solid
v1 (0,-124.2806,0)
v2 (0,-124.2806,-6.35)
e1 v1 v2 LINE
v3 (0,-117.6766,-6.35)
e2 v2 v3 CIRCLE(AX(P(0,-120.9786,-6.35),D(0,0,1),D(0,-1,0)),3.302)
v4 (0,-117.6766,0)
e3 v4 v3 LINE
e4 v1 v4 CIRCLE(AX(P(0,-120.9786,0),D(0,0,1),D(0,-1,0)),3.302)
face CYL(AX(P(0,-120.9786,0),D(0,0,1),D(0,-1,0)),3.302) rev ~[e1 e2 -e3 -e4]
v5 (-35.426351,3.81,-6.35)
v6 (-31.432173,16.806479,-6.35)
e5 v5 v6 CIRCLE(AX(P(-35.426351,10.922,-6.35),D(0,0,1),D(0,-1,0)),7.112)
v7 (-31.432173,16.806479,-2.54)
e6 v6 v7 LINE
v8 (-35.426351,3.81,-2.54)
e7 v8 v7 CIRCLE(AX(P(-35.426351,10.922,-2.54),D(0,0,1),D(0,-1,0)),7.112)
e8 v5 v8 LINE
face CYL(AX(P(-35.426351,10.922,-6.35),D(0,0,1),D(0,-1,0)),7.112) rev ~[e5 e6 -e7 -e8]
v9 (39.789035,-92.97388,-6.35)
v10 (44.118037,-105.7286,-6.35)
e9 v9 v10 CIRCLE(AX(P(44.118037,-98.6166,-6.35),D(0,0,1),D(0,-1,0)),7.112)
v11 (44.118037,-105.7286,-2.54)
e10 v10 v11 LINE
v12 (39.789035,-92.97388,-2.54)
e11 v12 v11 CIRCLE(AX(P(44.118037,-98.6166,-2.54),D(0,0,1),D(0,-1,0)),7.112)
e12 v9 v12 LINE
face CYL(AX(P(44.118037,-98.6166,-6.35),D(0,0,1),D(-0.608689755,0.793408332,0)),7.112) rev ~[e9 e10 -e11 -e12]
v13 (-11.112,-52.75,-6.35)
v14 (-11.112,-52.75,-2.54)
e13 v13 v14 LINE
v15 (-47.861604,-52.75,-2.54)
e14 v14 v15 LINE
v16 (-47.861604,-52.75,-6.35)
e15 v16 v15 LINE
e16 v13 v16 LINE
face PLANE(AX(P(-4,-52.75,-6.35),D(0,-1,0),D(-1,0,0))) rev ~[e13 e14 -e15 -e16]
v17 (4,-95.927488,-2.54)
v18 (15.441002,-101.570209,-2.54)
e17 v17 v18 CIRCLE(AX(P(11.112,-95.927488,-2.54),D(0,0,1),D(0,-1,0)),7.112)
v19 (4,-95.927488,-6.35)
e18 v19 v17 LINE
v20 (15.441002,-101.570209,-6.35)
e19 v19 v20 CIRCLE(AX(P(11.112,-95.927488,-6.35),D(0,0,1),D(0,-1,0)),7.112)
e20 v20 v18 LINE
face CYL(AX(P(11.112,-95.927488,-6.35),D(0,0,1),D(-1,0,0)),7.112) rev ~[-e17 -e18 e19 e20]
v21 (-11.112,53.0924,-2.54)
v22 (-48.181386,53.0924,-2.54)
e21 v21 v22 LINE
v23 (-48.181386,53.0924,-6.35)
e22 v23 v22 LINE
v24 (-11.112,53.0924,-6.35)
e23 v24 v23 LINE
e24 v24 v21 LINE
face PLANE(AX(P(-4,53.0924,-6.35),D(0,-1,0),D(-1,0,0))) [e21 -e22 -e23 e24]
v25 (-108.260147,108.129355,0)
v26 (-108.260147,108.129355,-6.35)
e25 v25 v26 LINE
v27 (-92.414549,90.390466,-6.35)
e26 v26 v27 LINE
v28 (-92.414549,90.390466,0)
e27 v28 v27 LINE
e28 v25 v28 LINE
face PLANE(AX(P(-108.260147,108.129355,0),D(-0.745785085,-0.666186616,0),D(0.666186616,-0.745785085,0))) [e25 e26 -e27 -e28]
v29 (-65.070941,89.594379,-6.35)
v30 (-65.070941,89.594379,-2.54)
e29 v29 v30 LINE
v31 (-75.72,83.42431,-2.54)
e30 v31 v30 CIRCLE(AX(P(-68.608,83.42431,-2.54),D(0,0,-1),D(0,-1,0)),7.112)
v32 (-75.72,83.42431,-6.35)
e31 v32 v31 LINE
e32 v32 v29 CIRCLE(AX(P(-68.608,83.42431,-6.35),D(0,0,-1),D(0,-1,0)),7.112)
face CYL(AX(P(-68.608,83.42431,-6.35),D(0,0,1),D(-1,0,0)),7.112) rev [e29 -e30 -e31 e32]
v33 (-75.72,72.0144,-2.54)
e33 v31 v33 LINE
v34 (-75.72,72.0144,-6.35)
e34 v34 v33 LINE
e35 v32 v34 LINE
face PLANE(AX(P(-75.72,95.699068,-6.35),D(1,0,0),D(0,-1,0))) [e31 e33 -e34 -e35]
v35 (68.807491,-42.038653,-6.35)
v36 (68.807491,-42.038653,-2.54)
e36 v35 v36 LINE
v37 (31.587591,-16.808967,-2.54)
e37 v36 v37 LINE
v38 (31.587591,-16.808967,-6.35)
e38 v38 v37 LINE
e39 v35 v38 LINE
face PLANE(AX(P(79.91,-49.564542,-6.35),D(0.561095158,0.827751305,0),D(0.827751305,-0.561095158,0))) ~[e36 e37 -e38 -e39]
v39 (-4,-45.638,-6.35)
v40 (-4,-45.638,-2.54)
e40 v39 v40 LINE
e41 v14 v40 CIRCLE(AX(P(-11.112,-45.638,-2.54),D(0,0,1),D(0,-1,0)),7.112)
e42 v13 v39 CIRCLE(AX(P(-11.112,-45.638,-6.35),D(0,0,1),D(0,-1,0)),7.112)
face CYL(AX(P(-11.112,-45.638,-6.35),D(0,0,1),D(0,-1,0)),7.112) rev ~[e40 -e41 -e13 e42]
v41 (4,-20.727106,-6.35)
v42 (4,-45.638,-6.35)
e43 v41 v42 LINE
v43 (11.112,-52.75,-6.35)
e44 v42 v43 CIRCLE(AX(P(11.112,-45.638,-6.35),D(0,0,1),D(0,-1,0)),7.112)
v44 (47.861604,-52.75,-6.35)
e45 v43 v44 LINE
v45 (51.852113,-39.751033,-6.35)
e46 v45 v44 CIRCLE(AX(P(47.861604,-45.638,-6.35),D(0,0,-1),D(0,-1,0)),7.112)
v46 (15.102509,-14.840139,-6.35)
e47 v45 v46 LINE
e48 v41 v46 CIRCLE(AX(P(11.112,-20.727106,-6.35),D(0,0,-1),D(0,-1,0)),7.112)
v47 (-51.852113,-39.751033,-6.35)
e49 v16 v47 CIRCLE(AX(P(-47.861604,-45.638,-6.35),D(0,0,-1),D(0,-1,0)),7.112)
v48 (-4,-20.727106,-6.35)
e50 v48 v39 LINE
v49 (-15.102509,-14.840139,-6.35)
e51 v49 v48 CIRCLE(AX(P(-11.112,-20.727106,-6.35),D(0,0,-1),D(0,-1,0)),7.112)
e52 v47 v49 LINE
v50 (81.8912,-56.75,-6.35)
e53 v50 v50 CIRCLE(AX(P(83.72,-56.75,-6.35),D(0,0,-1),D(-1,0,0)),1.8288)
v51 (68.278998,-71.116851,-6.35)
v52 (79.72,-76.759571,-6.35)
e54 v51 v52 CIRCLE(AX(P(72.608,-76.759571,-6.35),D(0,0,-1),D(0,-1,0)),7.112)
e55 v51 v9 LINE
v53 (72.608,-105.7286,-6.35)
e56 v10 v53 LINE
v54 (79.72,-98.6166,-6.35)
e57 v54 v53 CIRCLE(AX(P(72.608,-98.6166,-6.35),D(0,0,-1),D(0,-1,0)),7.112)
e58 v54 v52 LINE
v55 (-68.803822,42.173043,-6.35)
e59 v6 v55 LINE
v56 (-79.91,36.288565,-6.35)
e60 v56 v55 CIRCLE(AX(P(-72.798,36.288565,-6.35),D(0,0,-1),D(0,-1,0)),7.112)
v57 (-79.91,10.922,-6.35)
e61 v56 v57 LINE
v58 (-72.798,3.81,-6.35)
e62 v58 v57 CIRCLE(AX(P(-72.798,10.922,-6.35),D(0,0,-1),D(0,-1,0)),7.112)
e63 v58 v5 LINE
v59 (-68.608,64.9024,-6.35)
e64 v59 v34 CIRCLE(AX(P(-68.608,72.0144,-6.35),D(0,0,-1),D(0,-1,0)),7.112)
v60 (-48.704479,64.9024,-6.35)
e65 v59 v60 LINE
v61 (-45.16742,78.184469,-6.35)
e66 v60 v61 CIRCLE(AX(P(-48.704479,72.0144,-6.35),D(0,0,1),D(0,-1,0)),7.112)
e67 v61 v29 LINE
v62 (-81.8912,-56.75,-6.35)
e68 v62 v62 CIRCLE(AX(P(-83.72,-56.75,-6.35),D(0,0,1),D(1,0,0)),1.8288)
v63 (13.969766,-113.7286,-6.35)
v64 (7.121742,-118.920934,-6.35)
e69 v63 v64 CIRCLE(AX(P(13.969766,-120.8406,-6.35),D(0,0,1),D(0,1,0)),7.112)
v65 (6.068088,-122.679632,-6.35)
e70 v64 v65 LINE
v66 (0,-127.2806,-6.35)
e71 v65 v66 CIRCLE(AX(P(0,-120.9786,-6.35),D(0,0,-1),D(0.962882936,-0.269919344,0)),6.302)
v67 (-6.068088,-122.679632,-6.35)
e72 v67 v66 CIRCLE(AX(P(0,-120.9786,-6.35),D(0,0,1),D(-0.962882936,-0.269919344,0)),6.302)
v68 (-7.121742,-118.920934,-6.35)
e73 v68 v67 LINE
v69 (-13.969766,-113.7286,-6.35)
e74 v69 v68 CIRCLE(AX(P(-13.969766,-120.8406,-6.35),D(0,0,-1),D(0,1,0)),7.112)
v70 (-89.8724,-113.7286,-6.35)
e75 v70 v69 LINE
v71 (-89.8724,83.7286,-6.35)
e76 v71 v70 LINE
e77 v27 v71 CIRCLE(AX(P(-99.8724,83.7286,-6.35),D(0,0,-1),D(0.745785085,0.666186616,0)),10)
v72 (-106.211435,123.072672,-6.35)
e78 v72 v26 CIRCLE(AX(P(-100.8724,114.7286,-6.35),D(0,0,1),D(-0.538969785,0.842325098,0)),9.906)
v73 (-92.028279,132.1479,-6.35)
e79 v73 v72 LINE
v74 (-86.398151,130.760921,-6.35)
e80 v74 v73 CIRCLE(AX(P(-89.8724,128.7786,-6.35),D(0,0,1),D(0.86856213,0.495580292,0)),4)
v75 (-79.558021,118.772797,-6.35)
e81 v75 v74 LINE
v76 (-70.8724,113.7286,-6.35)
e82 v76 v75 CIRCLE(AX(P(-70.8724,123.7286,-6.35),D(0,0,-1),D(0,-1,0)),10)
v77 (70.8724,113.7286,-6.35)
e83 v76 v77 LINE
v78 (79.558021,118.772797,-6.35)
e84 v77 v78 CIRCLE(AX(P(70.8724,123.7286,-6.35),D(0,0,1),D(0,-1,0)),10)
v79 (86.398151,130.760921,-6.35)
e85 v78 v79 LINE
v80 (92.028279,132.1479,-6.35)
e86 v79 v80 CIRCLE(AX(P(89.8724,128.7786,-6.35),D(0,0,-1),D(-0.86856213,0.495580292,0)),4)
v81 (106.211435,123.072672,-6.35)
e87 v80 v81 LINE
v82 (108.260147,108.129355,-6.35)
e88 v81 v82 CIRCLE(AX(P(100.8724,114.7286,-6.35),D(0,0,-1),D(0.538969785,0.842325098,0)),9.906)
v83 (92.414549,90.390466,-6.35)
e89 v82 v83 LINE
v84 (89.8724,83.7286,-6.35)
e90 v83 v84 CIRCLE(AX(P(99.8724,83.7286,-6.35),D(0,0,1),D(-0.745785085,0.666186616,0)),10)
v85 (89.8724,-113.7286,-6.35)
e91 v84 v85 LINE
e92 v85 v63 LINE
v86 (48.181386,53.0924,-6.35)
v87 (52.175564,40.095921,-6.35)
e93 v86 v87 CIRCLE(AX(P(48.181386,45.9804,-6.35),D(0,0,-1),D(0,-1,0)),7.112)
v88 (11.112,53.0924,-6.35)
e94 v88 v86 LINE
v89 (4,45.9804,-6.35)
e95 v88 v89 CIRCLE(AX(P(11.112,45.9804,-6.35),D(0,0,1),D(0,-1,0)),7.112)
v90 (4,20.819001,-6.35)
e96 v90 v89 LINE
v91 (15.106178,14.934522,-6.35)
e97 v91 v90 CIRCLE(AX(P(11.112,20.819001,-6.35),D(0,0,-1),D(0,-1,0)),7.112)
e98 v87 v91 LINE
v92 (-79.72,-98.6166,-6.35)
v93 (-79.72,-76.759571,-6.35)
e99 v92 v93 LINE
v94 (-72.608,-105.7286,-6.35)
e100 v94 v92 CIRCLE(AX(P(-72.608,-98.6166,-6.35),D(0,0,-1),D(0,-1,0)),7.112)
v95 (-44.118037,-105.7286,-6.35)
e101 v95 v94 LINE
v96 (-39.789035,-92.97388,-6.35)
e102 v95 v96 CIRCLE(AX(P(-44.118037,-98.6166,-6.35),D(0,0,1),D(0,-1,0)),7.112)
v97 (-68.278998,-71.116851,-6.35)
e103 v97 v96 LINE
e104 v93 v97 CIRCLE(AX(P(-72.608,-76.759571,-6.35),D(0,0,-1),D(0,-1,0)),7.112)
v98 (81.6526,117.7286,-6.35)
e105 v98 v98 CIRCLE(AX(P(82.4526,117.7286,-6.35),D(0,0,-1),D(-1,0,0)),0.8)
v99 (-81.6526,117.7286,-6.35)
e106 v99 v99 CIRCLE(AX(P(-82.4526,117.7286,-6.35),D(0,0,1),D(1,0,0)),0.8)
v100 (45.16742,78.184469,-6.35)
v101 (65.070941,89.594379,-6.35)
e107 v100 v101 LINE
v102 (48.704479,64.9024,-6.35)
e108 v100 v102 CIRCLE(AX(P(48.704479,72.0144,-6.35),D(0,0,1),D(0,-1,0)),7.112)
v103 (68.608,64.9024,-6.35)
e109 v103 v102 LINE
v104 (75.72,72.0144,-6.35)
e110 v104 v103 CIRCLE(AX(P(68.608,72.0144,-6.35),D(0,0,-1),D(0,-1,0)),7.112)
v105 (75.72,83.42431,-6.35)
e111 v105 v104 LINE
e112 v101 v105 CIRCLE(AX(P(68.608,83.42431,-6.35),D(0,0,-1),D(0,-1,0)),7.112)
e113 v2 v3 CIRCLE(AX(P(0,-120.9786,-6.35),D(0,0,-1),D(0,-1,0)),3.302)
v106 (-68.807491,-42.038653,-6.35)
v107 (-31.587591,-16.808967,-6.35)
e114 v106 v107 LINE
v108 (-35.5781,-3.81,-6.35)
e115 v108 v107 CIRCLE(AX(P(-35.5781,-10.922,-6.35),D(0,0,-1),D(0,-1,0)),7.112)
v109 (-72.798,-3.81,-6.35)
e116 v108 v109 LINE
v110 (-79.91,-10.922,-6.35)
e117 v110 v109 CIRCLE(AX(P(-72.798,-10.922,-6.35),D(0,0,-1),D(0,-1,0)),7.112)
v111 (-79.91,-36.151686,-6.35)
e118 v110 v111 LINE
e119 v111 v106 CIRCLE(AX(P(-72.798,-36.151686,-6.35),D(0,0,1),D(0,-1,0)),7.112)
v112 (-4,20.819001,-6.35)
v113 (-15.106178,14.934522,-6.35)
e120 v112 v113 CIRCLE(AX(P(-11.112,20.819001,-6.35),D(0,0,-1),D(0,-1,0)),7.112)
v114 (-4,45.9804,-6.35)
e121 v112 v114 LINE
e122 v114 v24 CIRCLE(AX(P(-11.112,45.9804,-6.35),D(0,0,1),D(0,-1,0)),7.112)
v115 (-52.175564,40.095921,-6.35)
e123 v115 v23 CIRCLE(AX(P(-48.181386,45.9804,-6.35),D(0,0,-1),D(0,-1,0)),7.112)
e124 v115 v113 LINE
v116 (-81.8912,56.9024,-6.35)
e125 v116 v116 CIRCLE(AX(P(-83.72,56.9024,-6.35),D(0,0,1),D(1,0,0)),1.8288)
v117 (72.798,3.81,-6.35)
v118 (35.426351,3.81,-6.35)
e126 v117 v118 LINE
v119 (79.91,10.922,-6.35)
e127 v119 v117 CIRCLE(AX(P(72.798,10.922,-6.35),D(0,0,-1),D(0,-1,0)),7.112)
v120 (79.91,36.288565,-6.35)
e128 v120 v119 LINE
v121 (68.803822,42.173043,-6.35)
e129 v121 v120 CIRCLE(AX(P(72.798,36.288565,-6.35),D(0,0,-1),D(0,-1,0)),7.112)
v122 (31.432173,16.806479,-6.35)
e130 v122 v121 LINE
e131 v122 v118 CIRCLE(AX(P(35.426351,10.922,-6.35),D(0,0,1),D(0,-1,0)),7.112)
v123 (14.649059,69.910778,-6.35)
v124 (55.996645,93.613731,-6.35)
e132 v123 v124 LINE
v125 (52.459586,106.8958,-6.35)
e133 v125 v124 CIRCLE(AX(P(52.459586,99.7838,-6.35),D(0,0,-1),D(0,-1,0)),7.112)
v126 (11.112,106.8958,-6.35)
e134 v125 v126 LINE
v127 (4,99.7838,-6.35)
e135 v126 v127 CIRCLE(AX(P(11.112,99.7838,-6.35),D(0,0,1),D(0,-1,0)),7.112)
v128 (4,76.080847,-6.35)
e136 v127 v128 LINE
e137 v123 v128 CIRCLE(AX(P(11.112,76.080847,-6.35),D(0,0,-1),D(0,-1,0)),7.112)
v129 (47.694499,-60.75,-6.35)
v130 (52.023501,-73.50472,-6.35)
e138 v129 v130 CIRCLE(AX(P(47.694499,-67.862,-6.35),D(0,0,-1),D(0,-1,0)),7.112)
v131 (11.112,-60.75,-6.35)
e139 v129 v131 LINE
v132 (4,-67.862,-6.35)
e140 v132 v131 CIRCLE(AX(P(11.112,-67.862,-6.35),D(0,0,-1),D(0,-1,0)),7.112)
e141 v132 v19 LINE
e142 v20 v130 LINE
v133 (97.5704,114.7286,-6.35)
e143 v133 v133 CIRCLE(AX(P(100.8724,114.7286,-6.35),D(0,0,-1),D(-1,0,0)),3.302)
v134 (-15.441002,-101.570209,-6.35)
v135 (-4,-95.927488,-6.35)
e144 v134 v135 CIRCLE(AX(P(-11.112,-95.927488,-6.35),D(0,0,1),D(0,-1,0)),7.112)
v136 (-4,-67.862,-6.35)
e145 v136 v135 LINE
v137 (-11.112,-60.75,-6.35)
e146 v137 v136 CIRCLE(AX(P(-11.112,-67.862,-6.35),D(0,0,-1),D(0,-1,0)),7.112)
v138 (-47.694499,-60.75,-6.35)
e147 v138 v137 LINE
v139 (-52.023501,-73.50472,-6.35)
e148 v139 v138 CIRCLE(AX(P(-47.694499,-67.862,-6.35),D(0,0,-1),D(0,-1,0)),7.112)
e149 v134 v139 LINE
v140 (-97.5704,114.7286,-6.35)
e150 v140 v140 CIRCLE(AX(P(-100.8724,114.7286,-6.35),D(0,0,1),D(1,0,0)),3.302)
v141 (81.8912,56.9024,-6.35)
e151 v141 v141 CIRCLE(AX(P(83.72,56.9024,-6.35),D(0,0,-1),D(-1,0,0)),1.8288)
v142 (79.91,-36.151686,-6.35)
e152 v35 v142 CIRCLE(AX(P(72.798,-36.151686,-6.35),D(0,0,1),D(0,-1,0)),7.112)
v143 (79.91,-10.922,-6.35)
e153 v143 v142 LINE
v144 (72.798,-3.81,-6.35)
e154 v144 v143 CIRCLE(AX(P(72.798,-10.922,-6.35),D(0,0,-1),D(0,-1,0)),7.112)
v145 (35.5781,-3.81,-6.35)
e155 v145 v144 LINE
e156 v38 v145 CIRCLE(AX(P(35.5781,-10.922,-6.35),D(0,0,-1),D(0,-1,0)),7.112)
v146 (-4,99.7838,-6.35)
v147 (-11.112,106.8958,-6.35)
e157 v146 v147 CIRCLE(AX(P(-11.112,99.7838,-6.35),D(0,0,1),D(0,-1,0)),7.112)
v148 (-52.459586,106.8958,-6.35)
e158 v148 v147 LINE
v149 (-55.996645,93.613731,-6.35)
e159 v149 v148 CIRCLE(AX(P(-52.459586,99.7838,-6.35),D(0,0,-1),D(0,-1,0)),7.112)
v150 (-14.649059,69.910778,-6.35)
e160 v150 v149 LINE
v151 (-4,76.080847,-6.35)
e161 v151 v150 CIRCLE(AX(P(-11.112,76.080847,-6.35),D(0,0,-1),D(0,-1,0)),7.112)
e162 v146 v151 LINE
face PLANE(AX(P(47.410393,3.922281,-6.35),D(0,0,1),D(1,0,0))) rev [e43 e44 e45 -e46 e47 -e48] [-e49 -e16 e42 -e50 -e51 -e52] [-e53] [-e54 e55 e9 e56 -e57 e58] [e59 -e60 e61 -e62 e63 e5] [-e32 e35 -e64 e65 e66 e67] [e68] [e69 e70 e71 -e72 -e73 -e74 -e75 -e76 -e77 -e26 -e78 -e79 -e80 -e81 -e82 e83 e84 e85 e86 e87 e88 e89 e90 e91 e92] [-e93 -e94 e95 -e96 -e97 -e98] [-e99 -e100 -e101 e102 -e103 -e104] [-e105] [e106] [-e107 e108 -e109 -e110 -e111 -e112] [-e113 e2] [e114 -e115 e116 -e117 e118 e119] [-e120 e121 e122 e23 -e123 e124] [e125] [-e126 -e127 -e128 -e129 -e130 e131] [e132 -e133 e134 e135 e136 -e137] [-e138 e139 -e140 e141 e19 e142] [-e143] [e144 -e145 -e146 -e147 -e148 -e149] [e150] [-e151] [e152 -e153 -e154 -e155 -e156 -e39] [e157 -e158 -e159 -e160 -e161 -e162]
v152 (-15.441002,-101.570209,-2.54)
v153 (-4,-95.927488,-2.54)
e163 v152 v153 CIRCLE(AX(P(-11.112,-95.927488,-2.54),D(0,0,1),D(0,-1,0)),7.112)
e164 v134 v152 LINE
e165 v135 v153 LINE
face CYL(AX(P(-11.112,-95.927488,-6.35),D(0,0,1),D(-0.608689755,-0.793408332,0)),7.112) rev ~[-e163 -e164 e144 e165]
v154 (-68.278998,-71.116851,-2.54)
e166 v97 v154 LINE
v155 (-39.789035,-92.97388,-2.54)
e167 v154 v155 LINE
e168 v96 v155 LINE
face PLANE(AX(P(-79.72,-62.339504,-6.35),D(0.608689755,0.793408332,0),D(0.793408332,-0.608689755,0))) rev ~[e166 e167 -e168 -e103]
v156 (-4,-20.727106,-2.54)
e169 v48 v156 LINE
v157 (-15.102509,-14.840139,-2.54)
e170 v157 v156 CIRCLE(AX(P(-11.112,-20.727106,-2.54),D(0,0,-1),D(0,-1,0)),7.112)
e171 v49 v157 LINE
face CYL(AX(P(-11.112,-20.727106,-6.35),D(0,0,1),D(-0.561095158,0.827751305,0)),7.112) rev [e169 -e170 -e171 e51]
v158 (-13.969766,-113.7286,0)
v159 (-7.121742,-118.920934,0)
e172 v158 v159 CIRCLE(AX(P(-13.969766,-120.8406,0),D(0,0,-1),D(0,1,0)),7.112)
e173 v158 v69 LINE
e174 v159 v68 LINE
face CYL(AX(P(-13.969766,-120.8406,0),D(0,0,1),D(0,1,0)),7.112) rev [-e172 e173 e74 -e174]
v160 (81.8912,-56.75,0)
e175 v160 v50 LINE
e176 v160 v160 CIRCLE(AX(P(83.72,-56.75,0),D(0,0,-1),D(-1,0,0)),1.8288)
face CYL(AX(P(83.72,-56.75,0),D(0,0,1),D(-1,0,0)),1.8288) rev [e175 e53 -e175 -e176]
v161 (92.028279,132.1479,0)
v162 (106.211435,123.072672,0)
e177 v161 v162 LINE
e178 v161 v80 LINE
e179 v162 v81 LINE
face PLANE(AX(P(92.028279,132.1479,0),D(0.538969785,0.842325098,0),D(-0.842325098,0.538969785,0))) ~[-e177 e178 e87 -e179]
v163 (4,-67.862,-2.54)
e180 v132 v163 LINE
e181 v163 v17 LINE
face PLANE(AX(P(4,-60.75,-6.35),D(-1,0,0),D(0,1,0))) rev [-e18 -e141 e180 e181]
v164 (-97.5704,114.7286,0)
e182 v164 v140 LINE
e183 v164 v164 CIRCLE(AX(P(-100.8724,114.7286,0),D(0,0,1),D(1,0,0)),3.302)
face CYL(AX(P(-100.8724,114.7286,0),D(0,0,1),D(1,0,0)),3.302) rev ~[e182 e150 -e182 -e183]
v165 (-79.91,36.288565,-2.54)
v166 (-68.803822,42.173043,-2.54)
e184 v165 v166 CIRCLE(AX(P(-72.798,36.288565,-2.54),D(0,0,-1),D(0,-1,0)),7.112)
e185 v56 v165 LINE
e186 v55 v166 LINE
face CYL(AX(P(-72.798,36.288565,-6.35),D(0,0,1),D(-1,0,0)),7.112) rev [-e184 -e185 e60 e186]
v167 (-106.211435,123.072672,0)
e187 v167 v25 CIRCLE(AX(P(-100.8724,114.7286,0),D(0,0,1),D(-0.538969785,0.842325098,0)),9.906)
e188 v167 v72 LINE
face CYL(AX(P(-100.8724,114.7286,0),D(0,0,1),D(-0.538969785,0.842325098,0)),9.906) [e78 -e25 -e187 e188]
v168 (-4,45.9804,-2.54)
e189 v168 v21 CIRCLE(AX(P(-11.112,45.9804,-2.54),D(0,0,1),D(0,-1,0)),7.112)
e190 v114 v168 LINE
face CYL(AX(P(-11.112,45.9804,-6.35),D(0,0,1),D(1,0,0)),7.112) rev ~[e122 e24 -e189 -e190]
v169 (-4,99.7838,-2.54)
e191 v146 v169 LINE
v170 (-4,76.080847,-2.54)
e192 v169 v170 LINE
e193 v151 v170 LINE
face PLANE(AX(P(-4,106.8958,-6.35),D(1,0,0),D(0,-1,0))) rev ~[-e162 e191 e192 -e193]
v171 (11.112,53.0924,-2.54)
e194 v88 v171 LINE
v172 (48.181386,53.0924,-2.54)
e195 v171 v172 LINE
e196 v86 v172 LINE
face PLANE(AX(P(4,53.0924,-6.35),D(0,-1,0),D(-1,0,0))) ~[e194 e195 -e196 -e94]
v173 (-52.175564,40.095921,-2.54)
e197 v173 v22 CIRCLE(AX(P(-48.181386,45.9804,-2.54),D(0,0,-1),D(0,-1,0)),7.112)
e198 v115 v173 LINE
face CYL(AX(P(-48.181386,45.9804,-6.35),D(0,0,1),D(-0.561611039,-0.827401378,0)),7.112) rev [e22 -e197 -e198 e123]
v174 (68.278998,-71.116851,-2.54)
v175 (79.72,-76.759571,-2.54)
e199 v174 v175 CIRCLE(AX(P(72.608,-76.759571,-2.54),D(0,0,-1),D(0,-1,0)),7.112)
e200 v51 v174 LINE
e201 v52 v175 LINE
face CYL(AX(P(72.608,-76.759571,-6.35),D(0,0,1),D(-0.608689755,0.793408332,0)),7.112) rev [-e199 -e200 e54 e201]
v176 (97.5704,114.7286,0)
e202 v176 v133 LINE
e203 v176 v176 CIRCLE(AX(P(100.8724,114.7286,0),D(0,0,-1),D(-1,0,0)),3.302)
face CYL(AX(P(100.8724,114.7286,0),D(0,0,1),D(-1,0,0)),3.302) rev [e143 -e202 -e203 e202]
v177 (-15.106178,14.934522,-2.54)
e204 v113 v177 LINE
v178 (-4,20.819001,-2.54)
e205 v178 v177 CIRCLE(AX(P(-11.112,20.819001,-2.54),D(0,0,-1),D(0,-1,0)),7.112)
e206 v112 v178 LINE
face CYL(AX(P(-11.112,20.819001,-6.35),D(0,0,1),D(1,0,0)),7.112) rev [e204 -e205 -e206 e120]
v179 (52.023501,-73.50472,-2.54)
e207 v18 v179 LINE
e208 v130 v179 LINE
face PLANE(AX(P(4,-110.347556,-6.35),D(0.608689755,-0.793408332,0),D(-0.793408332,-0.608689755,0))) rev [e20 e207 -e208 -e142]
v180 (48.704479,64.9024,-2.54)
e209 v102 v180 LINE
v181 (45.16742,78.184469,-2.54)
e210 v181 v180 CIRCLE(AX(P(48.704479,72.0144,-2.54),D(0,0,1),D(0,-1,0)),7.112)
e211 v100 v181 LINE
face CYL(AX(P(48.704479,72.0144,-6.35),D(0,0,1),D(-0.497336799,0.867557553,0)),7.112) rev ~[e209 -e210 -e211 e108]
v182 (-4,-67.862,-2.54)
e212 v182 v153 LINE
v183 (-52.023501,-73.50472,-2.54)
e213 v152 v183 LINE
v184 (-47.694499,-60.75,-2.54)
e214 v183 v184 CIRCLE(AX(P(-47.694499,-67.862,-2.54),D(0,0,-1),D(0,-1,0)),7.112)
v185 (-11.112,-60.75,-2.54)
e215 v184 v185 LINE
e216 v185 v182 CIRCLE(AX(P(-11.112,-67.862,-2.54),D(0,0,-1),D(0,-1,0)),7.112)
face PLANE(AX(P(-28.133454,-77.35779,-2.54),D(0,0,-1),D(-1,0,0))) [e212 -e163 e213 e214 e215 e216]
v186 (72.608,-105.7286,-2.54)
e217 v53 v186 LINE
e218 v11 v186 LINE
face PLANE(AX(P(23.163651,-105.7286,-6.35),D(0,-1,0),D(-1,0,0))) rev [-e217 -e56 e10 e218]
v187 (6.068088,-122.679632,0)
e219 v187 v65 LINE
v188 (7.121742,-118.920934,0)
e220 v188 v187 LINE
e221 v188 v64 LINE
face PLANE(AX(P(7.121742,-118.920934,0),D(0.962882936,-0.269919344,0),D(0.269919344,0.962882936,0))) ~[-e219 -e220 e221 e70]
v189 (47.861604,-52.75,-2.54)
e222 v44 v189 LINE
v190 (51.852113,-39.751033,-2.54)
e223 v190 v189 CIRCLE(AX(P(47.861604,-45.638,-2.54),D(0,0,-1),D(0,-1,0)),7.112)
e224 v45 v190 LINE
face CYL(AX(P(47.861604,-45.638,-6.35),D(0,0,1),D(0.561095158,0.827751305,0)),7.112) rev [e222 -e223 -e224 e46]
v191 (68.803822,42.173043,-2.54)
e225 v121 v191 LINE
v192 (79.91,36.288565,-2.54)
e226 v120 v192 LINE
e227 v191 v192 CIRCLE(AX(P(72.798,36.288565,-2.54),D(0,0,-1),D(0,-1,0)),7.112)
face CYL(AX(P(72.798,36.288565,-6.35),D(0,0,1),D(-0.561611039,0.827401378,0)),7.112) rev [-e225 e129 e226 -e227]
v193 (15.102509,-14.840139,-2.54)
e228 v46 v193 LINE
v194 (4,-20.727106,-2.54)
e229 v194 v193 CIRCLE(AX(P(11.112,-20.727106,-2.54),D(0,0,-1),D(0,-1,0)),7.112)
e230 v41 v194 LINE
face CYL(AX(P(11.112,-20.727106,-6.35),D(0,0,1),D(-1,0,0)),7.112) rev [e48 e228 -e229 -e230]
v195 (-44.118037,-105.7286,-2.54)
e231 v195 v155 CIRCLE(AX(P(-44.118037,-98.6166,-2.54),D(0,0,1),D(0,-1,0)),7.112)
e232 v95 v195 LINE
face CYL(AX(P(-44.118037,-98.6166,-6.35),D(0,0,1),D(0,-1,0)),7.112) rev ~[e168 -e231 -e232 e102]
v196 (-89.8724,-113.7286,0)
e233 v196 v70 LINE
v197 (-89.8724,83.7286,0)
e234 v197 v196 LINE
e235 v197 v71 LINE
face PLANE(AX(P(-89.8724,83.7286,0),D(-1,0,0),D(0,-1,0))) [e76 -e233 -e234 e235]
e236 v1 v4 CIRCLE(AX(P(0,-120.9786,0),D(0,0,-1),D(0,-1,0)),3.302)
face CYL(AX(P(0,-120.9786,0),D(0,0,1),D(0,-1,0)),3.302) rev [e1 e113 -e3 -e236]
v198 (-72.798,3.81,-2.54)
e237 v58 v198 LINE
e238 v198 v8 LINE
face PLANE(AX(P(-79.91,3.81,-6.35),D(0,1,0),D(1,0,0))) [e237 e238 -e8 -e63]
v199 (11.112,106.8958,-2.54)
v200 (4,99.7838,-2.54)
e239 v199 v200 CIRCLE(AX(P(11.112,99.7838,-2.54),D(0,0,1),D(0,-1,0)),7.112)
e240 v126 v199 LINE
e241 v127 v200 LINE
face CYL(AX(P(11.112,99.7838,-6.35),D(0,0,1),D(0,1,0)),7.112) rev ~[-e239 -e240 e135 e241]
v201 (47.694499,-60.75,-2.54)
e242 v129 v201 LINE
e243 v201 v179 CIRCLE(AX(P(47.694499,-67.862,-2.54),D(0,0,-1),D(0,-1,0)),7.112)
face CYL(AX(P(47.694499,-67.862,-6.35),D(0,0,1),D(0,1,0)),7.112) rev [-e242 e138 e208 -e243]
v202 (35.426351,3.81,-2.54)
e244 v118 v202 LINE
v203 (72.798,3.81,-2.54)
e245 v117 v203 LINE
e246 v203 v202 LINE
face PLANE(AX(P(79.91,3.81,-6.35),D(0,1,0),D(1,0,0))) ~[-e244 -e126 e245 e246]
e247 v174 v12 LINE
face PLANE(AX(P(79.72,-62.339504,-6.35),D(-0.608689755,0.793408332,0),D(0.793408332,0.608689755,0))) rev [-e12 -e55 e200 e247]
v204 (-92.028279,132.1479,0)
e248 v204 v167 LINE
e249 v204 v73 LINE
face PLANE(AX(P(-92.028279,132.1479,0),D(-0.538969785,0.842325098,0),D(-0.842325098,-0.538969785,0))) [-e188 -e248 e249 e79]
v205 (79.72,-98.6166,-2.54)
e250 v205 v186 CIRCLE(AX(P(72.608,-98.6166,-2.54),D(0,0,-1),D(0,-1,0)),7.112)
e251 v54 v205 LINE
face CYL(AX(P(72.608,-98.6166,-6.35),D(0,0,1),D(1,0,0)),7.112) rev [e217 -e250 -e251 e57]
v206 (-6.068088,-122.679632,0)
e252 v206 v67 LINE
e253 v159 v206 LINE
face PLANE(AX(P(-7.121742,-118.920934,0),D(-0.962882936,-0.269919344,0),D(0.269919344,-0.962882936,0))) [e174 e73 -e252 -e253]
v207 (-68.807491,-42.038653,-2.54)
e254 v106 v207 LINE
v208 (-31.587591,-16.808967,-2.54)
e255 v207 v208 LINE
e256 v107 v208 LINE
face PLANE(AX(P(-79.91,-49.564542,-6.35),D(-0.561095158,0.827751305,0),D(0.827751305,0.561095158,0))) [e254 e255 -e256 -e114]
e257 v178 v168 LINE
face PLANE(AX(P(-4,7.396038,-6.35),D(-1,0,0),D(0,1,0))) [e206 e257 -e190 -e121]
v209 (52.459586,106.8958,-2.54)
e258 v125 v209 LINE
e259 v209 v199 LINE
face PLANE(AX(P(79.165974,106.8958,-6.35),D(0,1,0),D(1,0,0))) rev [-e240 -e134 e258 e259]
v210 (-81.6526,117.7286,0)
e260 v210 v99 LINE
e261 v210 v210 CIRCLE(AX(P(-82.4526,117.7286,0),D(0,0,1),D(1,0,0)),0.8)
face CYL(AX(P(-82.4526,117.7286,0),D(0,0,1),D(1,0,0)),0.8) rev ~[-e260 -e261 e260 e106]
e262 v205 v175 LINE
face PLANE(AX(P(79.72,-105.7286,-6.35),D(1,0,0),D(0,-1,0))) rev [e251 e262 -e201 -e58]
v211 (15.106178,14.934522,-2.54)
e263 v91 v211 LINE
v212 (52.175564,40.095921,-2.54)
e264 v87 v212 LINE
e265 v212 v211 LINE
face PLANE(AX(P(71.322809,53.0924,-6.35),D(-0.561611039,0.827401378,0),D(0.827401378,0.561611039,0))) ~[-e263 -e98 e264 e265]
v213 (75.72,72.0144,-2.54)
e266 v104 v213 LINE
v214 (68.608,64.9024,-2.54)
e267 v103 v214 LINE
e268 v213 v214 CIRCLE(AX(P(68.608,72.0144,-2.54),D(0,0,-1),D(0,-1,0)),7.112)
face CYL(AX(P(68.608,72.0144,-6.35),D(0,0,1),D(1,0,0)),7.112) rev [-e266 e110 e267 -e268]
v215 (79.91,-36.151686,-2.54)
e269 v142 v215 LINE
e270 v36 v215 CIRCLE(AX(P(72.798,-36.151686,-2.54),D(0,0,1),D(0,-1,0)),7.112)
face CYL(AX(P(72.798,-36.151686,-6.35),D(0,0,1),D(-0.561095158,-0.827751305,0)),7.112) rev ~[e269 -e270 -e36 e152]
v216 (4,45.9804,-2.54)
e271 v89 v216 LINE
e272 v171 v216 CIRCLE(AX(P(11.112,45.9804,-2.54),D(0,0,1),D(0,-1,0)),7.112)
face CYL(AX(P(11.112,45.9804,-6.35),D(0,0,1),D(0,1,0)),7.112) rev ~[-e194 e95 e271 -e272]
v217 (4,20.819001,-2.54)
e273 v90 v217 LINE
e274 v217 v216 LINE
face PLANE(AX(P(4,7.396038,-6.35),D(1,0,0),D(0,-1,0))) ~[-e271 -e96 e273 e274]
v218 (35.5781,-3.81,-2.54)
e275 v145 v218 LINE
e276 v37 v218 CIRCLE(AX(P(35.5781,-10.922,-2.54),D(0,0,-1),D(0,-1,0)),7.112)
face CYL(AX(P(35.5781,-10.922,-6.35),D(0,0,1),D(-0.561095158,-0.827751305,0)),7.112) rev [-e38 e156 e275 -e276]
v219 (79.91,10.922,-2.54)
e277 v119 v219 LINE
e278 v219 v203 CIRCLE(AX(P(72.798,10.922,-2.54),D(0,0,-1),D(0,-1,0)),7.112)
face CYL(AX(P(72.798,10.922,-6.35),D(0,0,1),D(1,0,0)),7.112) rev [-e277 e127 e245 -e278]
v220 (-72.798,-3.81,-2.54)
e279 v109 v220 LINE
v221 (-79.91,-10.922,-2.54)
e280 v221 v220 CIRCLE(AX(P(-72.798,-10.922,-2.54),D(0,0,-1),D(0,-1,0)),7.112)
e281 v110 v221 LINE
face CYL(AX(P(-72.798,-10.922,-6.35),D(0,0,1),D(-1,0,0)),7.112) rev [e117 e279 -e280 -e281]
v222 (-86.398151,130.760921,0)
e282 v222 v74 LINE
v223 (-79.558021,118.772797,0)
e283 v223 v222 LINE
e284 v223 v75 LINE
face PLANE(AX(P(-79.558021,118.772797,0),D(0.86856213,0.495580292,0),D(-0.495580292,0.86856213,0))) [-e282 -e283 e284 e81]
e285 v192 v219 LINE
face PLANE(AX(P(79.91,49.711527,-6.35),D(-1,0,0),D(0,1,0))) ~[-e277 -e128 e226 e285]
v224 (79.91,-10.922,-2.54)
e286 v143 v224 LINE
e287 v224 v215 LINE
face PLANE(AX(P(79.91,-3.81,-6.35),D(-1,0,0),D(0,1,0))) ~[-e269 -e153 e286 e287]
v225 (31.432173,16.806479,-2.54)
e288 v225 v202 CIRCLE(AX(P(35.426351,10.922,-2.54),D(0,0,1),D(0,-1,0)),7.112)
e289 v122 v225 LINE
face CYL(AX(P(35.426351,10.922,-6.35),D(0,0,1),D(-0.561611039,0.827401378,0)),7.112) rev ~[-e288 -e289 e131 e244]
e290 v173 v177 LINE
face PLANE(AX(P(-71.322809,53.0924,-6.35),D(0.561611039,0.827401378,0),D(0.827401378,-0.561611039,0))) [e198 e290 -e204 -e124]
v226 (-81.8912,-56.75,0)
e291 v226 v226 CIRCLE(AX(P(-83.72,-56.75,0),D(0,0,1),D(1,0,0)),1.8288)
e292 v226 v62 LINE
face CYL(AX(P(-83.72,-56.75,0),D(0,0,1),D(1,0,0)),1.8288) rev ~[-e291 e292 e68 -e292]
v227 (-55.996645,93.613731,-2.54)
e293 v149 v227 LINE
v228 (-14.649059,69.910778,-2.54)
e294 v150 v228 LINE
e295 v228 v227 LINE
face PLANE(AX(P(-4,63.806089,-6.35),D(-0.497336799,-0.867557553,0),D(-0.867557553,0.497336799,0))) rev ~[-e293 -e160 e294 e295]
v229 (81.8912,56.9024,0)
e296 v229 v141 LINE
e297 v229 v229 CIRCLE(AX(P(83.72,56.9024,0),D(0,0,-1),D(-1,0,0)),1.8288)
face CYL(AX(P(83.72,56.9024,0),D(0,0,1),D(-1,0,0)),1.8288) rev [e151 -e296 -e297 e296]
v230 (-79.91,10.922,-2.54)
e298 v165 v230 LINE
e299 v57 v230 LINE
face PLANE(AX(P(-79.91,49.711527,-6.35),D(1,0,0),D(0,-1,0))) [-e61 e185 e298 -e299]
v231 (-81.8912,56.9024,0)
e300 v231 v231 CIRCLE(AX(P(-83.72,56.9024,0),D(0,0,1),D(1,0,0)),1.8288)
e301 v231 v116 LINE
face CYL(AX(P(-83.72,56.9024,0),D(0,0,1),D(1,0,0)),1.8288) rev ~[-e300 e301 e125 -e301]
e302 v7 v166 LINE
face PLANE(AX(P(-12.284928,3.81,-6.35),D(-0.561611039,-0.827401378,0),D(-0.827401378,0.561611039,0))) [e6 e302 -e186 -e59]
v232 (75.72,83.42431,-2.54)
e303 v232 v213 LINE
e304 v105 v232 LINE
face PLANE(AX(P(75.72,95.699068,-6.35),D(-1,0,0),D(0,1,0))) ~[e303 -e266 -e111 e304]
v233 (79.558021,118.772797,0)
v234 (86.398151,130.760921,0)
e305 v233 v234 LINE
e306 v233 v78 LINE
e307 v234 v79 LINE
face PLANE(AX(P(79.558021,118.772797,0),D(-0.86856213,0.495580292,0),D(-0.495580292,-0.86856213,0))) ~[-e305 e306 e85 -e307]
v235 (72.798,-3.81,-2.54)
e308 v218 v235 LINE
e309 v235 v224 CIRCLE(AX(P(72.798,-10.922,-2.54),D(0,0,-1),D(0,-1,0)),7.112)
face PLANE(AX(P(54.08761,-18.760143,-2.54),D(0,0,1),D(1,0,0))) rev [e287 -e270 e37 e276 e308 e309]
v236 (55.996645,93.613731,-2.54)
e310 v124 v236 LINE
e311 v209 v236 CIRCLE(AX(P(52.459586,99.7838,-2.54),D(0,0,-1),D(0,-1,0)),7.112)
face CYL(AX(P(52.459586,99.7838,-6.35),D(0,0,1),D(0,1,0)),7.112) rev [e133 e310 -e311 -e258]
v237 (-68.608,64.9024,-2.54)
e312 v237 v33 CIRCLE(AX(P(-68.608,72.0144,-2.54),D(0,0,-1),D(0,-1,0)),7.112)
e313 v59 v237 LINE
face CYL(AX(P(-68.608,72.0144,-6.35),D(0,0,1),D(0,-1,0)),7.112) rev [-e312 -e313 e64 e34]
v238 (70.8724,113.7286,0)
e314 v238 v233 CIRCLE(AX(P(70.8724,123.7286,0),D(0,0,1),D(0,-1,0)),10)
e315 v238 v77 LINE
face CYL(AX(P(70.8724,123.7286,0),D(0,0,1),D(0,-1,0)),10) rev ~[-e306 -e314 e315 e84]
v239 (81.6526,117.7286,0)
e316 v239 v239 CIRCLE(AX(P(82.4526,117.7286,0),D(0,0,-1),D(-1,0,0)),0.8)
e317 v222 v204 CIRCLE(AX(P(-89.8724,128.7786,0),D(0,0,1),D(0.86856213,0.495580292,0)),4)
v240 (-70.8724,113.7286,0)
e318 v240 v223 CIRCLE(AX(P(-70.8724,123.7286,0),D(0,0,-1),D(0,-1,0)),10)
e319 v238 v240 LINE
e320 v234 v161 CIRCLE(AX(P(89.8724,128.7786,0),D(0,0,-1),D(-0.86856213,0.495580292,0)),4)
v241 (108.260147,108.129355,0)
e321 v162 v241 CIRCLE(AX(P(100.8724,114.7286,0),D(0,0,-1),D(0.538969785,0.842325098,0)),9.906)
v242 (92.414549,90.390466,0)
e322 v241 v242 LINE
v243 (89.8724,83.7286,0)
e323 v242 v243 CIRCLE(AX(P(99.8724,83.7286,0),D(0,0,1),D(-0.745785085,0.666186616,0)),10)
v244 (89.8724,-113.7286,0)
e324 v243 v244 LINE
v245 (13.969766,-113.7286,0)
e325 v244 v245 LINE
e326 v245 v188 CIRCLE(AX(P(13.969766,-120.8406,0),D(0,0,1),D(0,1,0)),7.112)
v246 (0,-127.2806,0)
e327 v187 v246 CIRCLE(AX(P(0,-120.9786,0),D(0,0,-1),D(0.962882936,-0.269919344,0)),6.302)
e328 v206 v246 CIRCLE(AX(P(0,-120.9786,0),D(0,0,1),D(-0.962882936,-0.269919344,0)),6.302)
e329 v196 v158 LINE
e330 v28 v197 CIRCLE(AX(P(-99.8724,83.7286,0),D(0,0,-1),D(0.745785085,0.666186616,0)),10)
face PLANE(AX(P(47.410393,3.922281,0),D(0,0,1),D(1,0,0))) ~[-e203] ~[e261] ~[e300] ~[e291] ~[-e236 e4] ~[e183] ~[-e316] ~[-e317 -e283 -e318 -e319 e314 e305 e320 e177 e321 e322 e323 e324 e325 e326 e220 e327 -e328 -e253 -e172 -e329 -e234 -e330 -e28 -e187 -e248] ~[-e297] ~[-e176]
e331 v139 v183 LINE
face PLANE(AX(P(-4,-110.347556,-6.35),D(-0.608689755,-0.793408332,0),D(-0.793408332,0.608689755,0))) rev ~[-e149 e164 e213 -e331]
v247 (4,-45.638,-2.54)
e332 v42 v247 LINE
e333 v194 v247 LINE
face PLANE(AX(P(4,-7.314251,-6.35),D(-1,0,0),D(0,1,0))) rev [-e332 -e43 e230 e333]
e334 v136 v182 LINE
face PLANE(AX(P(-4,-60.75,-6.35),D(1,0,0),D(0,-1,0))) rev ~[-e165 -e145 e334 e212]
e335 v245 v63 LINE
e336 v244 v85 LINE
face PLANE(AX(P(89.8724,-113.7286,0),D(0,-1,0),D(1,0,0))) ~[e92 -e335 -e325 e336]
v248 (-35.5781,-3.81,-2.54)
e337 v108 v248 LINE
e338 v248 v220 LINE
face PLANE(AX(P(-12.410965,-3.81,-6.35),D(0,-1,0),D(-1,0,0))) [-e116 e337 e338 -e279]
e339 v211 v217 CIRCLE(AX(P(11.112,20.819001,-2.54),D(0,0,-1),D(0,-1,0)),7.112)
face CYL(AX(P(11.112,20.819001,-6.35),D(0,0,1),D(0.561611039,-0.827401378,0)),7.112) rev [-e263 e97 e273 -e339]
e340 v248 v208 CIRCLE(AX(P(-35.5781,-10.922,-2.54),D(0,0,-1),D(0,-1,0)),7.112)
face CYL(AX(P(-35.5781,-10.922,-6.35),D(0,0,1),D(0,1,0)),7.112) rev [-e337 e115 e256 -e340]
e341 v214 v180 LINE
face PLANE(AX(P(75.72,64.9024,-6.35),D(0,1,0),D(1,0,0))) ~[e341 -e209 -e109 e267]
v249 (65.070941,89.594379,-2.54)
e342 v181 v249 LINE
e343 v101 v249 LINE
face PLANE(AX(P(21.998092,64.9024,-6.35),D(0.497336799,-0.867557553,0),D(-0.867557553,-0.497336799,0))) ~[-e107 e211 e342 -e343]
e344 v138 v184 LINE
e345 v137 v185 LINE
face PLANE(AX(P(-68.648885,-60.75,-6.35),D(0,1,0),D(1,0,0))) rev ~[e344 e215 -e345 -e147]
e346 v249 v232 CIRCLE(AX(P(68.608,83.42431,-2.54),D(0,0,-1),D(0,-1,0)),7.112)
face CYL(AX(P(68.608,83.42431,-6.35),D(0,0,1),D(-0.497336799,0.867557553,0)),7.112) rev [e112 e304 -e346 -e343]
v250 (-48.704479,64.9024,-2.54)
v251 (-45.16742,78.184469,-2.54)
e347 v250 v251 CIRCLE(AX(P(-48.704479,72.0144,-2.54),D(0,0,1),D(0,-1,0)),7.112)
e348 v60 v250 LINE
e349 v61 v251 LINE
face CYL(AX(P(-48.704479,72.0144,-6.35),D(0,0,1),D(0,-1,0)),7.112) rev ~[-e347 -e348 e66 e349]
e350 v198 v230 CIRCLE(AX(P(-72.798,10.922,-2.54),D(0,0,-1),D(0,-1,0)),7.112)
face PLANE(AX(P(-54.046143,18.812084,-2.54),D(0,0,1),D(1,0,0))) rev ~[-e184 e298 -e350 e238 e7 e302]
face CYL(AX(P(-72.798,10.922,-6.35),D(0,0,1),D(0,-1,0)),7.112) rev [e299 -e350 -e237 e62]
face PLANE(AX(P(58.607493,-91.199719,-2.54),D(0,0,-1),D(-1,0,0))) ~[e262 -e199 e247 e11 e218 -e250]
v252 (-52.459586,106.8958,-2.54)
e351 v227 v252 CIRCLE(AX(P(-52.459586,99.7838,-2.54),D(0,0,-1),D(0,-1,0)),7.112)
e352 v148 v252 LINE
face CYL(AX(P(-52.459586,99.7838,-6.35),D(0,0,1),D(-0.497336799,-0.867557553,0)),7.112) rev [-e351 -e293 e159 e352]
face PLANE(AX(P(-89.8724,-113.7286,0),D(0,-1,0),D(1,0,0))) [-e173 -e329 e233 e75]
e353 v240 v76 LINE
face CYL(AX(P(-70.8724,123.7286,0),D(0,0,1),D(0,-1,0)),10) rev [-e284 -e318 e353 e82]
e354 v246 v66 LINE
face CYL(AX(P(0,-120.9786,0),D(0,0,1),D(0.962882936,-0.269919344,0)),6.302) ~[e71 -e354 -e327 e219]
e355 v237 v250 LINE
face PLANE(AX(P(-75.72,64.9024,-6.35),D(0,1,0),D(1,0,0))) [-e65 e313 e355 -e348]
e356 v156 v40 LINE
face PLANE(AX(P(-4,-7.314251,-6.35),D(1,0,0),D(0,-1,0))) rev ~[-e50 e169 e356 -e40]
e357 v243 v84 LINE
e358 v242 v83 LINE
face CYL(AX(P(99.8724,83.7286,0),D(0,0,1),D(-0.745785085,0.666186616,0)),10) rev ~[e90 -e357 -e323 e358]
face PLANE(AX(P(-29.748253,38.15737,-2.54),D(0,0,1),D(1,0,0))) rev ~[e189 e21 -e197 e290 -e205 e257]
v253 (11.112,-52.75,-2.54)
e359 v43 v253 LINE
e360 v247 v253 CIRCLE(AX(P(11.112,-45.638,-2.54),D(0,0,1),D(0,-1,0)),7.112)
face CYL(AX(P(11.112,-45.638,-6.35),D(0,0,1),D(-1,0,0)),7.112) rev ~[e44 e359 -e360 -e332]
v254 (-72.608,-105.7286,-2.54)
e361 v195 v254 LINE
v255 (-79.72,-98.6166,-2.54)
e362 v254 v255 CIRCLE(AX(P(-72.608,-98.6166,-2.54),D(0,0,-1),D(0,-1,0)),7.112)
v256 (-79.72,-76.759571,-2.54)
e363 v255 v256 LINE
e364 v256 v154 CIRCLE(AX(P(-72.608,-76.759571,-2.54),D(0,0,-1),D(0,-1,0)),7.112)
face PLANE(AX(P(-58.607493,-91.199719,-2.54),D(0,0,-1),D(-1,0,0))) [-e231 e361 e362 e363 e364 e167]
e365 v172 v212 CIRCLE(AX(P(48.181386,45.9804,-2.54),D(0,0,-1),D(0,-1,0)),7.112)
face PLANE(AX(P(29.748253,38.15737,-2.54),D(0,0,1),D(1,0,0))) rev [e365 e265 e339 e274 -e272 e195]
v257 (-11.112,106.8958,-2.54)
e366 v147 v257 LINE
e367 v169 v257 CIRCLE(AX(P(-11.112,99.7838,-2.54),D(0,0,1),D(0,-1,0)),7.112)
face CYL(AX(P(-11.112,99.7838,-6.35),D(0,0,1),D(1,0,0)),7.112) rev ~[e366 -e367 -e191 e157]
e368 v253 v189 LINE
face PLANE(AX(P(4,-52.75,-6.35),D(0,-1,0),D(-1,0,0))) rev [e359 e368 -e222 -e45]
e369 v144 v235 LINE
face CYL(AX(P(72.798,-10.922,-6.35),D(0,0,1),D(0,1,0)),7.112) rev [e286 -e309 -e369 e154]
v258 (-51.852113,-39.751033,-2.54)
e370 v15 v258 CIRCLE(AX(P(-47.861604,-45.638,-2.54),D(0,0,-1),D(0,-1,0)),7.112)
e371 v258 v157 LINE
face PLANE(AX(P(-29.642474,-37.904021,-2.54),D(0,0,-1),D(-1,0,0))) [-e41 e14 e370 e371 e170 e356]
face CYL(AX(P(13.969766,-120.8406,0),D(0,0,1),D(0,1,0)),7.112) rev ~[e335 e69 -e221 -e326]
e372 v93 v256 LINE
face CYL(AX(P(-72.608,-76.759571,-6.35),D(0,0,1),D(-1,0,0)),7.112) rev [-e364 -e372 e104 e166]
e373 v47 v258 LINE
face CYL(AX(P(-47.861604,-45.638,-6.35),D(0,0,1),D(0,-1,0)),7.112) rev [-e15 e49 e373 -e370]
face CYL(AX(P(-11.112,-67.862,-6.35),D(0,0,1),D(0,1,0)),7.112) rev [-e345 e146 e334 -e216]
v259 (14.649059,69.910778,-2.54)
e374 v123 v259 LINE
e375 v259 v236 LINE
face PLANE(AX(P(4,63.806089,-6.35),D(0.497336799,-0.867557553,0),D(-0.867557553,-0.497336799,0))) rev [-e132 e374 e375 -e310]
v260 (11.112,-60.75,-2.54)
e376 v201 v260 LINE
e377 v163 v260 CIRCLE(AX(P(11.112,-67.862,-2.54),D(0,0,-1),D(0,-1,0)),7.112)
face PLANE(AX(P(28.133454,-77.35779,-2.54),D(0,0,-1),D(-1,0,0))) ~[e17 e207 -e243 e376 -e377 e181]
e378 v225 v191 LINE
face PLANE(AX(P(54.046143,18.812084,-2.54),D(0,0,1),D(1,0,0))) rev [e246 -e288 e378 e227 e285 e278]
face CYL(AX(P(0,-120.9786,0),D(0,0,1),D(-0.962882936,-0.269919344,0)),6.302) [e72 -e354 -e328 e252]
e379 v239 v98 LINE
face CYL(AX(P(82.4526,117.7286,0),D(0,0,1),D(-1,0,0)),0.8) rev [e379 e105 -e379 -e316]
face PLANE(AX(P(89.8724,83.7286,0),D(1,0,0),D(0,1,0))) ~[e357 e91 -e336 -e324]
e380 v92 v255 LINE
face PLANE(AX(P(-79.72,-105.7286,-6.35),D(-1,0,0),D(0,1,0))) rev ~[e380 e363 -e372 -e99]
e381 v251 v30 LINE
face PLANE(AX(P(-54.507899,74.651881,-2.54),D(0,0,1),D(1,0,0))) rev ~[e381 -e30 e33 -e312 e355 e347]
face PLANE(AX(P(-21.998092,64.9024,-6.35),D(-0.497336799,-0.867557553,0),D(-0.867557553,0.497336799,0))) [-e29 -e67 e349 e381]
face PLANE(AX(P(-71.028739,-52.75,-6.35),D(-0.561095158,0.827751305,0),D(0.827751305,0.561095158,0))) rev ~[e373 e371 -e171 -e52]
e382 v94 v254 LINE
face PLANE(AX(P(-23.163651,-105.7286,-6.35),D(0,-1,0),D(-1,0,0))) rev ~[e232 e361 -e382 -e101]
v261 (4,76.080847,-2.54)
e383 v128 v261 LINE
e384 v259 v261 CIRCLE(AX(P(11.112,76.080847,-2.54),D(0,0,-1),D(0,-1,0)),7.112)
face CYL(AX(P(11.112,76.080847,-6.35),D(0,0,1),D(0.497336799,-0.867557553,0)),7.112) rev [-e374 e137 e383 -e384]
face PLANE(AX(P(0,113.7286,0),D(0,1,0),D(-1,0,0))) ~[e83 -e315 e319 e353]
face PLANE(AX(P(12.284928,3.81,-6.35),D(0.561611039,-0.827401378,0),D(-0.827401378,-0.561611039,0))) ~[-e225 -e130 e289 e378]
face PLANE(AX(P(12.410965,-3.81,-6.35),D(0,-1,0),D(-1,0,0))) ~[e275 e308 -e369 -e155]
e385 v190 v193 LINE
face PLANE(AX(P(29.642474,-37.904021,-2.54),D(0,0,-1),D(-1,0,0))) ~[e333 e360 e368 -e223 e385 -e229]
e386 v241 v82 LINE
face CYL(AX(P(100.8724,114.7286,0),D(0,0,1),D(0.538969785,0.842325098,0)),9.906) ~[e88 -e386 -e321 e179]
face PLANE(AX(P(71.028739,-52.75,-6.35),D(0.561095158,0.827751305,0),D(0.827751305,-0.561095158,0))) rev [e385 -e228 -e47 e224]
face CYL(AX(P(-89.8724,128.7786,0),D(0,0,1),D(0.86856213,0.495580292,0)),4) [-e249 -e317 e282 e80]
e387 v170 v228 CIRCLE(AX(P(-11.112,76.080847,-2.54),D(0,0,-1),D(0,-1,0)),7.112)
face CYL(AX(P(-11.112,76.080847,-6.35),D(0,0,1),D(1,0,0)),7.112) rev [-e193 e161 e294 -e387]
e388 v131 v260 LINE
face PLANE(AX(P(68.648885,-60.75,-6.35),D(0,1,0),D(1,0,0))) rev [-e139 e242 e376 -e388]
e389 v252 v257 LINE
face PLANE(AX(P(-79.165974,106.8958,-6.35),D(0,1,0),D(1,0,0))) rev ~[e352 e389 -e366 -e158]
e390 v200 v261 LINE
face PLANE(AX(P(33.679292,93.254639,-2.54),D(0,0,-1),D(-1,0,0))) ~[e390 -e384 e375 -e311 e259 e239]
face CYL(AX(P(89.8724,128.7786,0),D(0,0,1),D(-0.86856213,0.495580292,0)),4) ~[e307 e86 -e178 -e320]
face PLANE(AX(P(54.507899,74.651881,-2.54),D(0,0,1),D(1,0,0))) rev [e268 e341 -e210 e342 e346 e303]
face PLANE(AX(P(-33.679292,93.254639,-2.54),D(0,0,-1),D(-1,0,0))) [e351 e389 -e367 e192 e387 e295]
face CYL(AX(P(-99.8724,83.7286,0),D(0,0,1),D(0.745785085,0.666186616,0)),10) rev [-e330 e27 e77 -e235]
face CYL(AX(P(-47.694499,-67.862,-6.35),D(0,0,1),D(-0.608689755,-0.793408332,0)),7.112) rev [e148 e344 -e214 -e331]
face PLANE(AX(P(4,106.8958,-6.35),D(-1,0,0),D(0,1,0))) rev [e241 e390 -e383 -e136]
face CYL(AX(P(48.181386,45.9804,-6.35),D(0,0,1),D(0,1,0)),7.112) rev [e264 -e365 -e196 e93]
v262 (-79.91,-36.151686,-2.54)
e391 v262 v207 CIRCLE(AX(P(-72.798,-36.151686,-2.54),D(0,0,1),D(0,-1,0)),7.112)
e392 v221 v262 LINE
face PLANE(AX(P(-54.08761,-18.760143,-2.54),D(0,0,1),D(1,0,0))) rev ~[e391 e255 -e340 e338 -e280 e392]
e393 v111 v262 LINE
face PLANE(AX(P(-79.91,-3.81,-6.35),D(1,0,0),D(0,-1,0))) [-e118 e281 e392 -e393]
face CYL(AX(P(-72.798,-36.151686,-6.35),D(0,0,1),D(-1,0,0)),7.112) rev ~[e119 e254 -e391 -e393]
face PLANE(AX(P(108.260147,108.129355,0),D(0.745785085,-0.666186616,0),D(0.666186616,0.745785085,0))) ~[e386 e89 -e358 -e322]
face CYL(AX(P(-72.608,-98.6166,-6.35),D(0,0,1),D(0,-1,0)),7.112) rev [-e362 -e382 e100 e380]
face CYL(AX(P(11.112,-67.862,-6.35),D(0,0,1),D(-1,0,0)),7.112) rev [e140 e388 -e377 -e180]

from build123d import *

# Parameters (mm, degrees)
SKETCH1_R                                  = 3.302
SKETCH1_R_2                                = 0.8
SKETCH1_R_3                                = 1.8288
PLATE_DEPTH                                = 6.35
WEIGHT_SAVING_CUTS_DEPTH                   = 3.81
WEIGHT_SAVING_CUT_FILLETS_R                = 7.112
WEIGHT_SAVING_CUT_FILLETS_OF_WEIGHT_SAVI_R = 7.112


with BuildPart() as part:
    # Sketch1 → Plate (new body)
    with BuildSketch(Plane.XY):
        with BuildLine():
            ThreePointArc((-92.41454916, 90.390466105), (-90.529528169, 87.293813231), (-89.872400011, 83.728599949))
            Line((-89.872400011, 83.728599949), (-89.872400011, -113.728599949))
            Line((-89.872400011, -113.728599949), (-13.969765558, -113.728599949))
            ThreePointArc((-13.969765558, -113.728599949), (-9.672797049, -115.173448492), (-7.12174212, -118.920933572))
            Line((-7.12174212, -118.920933572), (-6.06808826, -122.679631657))
            ThreePointArc((-6.06808826, -122.679631657), (-3.807578113, -126.000308116), (0, -127.280599949))
            Line((0, -127.280599949), (0, -124.280599949))
            ThreePointArc((0, -124.280599949), (-3.302, -120.978599949), (0, -117.676599949))
            Line((0, -117.676599949), (0, 113.728599949))
            Line((0, 113.728599949), (-70.872400011, 113.728599949))
            ThreePointArc((-70.872400011, 113.728599949), (-75.894449931, 115.081113921), (-79.558021314, 118.772797028))
            Line((-79.558021314, 118.772797028), (-86.39815149, 130.760921117))
            ThreePointArc((-86.39815149, 130.760921117), (-88.915607296, 132.662483019), (-92.02827915, 132.147900342))
            Line((-92.02827915, 132.147900342), (-106.211434698, 123.072672373))
            ThreePointArc((-106.211434698, 123.072672373), (-110.686595056, 116.074115319), (-108.260147064, 108.129355334))
            Line((-108.260147064, 108.129355334), (-92.41454916, 90.390466105))
        make_face()
        with Locations((-100.872400011, 114.728599949)):
            Circle(SKETCH1_R, mode=Mode.SUBTRACT)
        with Locations((-82.452600011, 117.728599949)):
            Circle(SKETCH1_R_2, mode=Mode.SUBTRACT)
        with Locations((-83.72, -56.750000051)):
            Circle(SKETCH1_R_3, mode=Mode.SUBTRACT)
        with Locations((-83.72, 56.902399949)):
            Circle(SKETCH1_R_3, mode=Mode.SUBTRACT)
    plate = extrude(amount=-PLATE_DEPTH)

    # Plate Mirror: Plate across plane
    add(plate.mirror(Plane(origin=(0, 0, 0), x_dir=(0, 0, 1), z_dir=(1, 0, 0))))

    # Sketch2 → Weight Saving Cuts (cut)
    with BuildSketch(Plane.XY.offset(-6.35)):
        Polygon((-4, -52.750000051), (-71.028738776, -52.750000051), (-4, -7.31425078), align=None)
        Polygon((-4, -110.347555783), (-68.648884958, -60.750000051), (-4, -60.750000051), align=None)
        Polygon((-23.163651007, -105.728599949), (-79.72, -105.728599949), (-79.72, -62.33950402), align=None)
        Polygon((-79.91, -49.564541674), (-12.410965189, -3.81), (-79.91, -3.81), align=None)
        Polygon((-12.284928228, 3.81), (-79.91, 49.711527156), (-79.91, 3.81), align=None)
        Polygon((-4, 53.092399949), (-71.322809123, 53.092399949), (-4, 7.396038078), align=None)
        Polygon((-21.998091507, 64.902399949), (-75.72, 95.699068062), (-75.72, 64.902399949), align=None)
        Polygon((-4, 106.89580016), (-4, 63.806088559), (-79.165973641, 106.89580016), align=None)
    weight_saving_cuts = extrude(amount=WEIGHT_SAVING_CUTS_DEPTH, mode=Mode.SUBTRACT)

    # Weight Saving Cut Fillets
    weight_saving_cut_fillets_edges = [part.edges().sort_by_distance(p)[0] for p in [
        (-71.028738776, -52.750000051, -4.445),
        (-4, -52.750000051, -4.445),
        (-4, -7.31425078, -4.445),
        (-68.648884958, -60.750000051, -4.445),
        (-4, -110.347555783, -4.445),
        (-4, -60.750000051, -4.445),
        (-79.72, -105.728599949, -4.445),
        (-23.163651007, -105.728599949, -4.445),
        (-79.72, -62.33950402, -4.445),
        (-79.91, -49.564541674, -4.445),
        (-12.410965189, -3.81, -4.445),
        (-79.91, -3.81, -4.445),
        (-12.284928228, 3.81, -4.445),
        (-79.91, 49.711527156, -4.445),
        (-79.91, 3.81, -4.445),
        (-4, 53.092399949, -4.445),
        (-71.322809123, 53.092399949, -4.445),
        (-4, 7.396038078, -4.445),
        (-21.998091507, 64.902399949, -4.445),
        (-75.72, 95.699068062, -4.445),
        (-75.72, 64.902399949, -4.445),
        (-4, 63.806088559, -4.445),
        (-4, 106.89580016, -4.445),
        (-79.165973641, 106.89580016, -4.445),
    ]]
    fillet(weight_saving_cut_fillets_edges, radius=WEIGHT_SAVING_CUT_FILLETS_R)

    # Weight Saving Mirror: Weight Saving Cuts across plane
    add(weight_saving_cuts.mirror(Plane(origin=(0, 0, 0), x_dir=(0, 0, 1), z_dir=(1, 0, 0))), mode=Mode.SUBTRACT)

    # Weight Saving Cut Fillets of Weight Savi
    weight_saving_cut_fillets_of_weight_savi_edges = [part.edges().sort_by_distance(p)[0] for p in [
        (71.028738776, -52.750000051, -4.445),
        (4, -52.750000051, -4.445),
        (4, -7.31425078, -4.445),
        (68.648884958, -60.750000051, -4.445),
        (4, -110.347555783, -4.445),
        (4, -60.750000051, -4.445),
        (79.72, -105.728599949, -4.445),
        (23.163651007, -105.728599949, -4.445),
        (79.72, -62.33950402, -4.445),
        (79.91, -49.564541674, -4.445),
        (12.410965189, -3.81, -4.445),
        (79.91, -3.81, -4.445),
        (12.284928228, 3.81, -4.445),
        (79.91, 49.711527156, -4.445),
        (79.91, 3.81, -4.445),
        (4, 53.092399949, -4.445),
        (71.322809123, 53.092399949, -4.445),
        (4, 7.396038078, -4.445),
        (21.998091507, 64.902399949, -4.445),
        (75.72, 95.699068062, -4.445),
        (75.72, 64.902399949, -4.445),
        (4, 63.806088559, -4.445),
        (4, 106.89580016, -4.445),
        (79.165973641, 106.89580016, -4.445),
    ]]
    fillet(weight_saving_cut_fillets_of_weight_savi_edges, radius=WEIGHT_SAVING_CUT_FILLETS_OF_WEIGHT_SAVI_R)


solid = part.part
